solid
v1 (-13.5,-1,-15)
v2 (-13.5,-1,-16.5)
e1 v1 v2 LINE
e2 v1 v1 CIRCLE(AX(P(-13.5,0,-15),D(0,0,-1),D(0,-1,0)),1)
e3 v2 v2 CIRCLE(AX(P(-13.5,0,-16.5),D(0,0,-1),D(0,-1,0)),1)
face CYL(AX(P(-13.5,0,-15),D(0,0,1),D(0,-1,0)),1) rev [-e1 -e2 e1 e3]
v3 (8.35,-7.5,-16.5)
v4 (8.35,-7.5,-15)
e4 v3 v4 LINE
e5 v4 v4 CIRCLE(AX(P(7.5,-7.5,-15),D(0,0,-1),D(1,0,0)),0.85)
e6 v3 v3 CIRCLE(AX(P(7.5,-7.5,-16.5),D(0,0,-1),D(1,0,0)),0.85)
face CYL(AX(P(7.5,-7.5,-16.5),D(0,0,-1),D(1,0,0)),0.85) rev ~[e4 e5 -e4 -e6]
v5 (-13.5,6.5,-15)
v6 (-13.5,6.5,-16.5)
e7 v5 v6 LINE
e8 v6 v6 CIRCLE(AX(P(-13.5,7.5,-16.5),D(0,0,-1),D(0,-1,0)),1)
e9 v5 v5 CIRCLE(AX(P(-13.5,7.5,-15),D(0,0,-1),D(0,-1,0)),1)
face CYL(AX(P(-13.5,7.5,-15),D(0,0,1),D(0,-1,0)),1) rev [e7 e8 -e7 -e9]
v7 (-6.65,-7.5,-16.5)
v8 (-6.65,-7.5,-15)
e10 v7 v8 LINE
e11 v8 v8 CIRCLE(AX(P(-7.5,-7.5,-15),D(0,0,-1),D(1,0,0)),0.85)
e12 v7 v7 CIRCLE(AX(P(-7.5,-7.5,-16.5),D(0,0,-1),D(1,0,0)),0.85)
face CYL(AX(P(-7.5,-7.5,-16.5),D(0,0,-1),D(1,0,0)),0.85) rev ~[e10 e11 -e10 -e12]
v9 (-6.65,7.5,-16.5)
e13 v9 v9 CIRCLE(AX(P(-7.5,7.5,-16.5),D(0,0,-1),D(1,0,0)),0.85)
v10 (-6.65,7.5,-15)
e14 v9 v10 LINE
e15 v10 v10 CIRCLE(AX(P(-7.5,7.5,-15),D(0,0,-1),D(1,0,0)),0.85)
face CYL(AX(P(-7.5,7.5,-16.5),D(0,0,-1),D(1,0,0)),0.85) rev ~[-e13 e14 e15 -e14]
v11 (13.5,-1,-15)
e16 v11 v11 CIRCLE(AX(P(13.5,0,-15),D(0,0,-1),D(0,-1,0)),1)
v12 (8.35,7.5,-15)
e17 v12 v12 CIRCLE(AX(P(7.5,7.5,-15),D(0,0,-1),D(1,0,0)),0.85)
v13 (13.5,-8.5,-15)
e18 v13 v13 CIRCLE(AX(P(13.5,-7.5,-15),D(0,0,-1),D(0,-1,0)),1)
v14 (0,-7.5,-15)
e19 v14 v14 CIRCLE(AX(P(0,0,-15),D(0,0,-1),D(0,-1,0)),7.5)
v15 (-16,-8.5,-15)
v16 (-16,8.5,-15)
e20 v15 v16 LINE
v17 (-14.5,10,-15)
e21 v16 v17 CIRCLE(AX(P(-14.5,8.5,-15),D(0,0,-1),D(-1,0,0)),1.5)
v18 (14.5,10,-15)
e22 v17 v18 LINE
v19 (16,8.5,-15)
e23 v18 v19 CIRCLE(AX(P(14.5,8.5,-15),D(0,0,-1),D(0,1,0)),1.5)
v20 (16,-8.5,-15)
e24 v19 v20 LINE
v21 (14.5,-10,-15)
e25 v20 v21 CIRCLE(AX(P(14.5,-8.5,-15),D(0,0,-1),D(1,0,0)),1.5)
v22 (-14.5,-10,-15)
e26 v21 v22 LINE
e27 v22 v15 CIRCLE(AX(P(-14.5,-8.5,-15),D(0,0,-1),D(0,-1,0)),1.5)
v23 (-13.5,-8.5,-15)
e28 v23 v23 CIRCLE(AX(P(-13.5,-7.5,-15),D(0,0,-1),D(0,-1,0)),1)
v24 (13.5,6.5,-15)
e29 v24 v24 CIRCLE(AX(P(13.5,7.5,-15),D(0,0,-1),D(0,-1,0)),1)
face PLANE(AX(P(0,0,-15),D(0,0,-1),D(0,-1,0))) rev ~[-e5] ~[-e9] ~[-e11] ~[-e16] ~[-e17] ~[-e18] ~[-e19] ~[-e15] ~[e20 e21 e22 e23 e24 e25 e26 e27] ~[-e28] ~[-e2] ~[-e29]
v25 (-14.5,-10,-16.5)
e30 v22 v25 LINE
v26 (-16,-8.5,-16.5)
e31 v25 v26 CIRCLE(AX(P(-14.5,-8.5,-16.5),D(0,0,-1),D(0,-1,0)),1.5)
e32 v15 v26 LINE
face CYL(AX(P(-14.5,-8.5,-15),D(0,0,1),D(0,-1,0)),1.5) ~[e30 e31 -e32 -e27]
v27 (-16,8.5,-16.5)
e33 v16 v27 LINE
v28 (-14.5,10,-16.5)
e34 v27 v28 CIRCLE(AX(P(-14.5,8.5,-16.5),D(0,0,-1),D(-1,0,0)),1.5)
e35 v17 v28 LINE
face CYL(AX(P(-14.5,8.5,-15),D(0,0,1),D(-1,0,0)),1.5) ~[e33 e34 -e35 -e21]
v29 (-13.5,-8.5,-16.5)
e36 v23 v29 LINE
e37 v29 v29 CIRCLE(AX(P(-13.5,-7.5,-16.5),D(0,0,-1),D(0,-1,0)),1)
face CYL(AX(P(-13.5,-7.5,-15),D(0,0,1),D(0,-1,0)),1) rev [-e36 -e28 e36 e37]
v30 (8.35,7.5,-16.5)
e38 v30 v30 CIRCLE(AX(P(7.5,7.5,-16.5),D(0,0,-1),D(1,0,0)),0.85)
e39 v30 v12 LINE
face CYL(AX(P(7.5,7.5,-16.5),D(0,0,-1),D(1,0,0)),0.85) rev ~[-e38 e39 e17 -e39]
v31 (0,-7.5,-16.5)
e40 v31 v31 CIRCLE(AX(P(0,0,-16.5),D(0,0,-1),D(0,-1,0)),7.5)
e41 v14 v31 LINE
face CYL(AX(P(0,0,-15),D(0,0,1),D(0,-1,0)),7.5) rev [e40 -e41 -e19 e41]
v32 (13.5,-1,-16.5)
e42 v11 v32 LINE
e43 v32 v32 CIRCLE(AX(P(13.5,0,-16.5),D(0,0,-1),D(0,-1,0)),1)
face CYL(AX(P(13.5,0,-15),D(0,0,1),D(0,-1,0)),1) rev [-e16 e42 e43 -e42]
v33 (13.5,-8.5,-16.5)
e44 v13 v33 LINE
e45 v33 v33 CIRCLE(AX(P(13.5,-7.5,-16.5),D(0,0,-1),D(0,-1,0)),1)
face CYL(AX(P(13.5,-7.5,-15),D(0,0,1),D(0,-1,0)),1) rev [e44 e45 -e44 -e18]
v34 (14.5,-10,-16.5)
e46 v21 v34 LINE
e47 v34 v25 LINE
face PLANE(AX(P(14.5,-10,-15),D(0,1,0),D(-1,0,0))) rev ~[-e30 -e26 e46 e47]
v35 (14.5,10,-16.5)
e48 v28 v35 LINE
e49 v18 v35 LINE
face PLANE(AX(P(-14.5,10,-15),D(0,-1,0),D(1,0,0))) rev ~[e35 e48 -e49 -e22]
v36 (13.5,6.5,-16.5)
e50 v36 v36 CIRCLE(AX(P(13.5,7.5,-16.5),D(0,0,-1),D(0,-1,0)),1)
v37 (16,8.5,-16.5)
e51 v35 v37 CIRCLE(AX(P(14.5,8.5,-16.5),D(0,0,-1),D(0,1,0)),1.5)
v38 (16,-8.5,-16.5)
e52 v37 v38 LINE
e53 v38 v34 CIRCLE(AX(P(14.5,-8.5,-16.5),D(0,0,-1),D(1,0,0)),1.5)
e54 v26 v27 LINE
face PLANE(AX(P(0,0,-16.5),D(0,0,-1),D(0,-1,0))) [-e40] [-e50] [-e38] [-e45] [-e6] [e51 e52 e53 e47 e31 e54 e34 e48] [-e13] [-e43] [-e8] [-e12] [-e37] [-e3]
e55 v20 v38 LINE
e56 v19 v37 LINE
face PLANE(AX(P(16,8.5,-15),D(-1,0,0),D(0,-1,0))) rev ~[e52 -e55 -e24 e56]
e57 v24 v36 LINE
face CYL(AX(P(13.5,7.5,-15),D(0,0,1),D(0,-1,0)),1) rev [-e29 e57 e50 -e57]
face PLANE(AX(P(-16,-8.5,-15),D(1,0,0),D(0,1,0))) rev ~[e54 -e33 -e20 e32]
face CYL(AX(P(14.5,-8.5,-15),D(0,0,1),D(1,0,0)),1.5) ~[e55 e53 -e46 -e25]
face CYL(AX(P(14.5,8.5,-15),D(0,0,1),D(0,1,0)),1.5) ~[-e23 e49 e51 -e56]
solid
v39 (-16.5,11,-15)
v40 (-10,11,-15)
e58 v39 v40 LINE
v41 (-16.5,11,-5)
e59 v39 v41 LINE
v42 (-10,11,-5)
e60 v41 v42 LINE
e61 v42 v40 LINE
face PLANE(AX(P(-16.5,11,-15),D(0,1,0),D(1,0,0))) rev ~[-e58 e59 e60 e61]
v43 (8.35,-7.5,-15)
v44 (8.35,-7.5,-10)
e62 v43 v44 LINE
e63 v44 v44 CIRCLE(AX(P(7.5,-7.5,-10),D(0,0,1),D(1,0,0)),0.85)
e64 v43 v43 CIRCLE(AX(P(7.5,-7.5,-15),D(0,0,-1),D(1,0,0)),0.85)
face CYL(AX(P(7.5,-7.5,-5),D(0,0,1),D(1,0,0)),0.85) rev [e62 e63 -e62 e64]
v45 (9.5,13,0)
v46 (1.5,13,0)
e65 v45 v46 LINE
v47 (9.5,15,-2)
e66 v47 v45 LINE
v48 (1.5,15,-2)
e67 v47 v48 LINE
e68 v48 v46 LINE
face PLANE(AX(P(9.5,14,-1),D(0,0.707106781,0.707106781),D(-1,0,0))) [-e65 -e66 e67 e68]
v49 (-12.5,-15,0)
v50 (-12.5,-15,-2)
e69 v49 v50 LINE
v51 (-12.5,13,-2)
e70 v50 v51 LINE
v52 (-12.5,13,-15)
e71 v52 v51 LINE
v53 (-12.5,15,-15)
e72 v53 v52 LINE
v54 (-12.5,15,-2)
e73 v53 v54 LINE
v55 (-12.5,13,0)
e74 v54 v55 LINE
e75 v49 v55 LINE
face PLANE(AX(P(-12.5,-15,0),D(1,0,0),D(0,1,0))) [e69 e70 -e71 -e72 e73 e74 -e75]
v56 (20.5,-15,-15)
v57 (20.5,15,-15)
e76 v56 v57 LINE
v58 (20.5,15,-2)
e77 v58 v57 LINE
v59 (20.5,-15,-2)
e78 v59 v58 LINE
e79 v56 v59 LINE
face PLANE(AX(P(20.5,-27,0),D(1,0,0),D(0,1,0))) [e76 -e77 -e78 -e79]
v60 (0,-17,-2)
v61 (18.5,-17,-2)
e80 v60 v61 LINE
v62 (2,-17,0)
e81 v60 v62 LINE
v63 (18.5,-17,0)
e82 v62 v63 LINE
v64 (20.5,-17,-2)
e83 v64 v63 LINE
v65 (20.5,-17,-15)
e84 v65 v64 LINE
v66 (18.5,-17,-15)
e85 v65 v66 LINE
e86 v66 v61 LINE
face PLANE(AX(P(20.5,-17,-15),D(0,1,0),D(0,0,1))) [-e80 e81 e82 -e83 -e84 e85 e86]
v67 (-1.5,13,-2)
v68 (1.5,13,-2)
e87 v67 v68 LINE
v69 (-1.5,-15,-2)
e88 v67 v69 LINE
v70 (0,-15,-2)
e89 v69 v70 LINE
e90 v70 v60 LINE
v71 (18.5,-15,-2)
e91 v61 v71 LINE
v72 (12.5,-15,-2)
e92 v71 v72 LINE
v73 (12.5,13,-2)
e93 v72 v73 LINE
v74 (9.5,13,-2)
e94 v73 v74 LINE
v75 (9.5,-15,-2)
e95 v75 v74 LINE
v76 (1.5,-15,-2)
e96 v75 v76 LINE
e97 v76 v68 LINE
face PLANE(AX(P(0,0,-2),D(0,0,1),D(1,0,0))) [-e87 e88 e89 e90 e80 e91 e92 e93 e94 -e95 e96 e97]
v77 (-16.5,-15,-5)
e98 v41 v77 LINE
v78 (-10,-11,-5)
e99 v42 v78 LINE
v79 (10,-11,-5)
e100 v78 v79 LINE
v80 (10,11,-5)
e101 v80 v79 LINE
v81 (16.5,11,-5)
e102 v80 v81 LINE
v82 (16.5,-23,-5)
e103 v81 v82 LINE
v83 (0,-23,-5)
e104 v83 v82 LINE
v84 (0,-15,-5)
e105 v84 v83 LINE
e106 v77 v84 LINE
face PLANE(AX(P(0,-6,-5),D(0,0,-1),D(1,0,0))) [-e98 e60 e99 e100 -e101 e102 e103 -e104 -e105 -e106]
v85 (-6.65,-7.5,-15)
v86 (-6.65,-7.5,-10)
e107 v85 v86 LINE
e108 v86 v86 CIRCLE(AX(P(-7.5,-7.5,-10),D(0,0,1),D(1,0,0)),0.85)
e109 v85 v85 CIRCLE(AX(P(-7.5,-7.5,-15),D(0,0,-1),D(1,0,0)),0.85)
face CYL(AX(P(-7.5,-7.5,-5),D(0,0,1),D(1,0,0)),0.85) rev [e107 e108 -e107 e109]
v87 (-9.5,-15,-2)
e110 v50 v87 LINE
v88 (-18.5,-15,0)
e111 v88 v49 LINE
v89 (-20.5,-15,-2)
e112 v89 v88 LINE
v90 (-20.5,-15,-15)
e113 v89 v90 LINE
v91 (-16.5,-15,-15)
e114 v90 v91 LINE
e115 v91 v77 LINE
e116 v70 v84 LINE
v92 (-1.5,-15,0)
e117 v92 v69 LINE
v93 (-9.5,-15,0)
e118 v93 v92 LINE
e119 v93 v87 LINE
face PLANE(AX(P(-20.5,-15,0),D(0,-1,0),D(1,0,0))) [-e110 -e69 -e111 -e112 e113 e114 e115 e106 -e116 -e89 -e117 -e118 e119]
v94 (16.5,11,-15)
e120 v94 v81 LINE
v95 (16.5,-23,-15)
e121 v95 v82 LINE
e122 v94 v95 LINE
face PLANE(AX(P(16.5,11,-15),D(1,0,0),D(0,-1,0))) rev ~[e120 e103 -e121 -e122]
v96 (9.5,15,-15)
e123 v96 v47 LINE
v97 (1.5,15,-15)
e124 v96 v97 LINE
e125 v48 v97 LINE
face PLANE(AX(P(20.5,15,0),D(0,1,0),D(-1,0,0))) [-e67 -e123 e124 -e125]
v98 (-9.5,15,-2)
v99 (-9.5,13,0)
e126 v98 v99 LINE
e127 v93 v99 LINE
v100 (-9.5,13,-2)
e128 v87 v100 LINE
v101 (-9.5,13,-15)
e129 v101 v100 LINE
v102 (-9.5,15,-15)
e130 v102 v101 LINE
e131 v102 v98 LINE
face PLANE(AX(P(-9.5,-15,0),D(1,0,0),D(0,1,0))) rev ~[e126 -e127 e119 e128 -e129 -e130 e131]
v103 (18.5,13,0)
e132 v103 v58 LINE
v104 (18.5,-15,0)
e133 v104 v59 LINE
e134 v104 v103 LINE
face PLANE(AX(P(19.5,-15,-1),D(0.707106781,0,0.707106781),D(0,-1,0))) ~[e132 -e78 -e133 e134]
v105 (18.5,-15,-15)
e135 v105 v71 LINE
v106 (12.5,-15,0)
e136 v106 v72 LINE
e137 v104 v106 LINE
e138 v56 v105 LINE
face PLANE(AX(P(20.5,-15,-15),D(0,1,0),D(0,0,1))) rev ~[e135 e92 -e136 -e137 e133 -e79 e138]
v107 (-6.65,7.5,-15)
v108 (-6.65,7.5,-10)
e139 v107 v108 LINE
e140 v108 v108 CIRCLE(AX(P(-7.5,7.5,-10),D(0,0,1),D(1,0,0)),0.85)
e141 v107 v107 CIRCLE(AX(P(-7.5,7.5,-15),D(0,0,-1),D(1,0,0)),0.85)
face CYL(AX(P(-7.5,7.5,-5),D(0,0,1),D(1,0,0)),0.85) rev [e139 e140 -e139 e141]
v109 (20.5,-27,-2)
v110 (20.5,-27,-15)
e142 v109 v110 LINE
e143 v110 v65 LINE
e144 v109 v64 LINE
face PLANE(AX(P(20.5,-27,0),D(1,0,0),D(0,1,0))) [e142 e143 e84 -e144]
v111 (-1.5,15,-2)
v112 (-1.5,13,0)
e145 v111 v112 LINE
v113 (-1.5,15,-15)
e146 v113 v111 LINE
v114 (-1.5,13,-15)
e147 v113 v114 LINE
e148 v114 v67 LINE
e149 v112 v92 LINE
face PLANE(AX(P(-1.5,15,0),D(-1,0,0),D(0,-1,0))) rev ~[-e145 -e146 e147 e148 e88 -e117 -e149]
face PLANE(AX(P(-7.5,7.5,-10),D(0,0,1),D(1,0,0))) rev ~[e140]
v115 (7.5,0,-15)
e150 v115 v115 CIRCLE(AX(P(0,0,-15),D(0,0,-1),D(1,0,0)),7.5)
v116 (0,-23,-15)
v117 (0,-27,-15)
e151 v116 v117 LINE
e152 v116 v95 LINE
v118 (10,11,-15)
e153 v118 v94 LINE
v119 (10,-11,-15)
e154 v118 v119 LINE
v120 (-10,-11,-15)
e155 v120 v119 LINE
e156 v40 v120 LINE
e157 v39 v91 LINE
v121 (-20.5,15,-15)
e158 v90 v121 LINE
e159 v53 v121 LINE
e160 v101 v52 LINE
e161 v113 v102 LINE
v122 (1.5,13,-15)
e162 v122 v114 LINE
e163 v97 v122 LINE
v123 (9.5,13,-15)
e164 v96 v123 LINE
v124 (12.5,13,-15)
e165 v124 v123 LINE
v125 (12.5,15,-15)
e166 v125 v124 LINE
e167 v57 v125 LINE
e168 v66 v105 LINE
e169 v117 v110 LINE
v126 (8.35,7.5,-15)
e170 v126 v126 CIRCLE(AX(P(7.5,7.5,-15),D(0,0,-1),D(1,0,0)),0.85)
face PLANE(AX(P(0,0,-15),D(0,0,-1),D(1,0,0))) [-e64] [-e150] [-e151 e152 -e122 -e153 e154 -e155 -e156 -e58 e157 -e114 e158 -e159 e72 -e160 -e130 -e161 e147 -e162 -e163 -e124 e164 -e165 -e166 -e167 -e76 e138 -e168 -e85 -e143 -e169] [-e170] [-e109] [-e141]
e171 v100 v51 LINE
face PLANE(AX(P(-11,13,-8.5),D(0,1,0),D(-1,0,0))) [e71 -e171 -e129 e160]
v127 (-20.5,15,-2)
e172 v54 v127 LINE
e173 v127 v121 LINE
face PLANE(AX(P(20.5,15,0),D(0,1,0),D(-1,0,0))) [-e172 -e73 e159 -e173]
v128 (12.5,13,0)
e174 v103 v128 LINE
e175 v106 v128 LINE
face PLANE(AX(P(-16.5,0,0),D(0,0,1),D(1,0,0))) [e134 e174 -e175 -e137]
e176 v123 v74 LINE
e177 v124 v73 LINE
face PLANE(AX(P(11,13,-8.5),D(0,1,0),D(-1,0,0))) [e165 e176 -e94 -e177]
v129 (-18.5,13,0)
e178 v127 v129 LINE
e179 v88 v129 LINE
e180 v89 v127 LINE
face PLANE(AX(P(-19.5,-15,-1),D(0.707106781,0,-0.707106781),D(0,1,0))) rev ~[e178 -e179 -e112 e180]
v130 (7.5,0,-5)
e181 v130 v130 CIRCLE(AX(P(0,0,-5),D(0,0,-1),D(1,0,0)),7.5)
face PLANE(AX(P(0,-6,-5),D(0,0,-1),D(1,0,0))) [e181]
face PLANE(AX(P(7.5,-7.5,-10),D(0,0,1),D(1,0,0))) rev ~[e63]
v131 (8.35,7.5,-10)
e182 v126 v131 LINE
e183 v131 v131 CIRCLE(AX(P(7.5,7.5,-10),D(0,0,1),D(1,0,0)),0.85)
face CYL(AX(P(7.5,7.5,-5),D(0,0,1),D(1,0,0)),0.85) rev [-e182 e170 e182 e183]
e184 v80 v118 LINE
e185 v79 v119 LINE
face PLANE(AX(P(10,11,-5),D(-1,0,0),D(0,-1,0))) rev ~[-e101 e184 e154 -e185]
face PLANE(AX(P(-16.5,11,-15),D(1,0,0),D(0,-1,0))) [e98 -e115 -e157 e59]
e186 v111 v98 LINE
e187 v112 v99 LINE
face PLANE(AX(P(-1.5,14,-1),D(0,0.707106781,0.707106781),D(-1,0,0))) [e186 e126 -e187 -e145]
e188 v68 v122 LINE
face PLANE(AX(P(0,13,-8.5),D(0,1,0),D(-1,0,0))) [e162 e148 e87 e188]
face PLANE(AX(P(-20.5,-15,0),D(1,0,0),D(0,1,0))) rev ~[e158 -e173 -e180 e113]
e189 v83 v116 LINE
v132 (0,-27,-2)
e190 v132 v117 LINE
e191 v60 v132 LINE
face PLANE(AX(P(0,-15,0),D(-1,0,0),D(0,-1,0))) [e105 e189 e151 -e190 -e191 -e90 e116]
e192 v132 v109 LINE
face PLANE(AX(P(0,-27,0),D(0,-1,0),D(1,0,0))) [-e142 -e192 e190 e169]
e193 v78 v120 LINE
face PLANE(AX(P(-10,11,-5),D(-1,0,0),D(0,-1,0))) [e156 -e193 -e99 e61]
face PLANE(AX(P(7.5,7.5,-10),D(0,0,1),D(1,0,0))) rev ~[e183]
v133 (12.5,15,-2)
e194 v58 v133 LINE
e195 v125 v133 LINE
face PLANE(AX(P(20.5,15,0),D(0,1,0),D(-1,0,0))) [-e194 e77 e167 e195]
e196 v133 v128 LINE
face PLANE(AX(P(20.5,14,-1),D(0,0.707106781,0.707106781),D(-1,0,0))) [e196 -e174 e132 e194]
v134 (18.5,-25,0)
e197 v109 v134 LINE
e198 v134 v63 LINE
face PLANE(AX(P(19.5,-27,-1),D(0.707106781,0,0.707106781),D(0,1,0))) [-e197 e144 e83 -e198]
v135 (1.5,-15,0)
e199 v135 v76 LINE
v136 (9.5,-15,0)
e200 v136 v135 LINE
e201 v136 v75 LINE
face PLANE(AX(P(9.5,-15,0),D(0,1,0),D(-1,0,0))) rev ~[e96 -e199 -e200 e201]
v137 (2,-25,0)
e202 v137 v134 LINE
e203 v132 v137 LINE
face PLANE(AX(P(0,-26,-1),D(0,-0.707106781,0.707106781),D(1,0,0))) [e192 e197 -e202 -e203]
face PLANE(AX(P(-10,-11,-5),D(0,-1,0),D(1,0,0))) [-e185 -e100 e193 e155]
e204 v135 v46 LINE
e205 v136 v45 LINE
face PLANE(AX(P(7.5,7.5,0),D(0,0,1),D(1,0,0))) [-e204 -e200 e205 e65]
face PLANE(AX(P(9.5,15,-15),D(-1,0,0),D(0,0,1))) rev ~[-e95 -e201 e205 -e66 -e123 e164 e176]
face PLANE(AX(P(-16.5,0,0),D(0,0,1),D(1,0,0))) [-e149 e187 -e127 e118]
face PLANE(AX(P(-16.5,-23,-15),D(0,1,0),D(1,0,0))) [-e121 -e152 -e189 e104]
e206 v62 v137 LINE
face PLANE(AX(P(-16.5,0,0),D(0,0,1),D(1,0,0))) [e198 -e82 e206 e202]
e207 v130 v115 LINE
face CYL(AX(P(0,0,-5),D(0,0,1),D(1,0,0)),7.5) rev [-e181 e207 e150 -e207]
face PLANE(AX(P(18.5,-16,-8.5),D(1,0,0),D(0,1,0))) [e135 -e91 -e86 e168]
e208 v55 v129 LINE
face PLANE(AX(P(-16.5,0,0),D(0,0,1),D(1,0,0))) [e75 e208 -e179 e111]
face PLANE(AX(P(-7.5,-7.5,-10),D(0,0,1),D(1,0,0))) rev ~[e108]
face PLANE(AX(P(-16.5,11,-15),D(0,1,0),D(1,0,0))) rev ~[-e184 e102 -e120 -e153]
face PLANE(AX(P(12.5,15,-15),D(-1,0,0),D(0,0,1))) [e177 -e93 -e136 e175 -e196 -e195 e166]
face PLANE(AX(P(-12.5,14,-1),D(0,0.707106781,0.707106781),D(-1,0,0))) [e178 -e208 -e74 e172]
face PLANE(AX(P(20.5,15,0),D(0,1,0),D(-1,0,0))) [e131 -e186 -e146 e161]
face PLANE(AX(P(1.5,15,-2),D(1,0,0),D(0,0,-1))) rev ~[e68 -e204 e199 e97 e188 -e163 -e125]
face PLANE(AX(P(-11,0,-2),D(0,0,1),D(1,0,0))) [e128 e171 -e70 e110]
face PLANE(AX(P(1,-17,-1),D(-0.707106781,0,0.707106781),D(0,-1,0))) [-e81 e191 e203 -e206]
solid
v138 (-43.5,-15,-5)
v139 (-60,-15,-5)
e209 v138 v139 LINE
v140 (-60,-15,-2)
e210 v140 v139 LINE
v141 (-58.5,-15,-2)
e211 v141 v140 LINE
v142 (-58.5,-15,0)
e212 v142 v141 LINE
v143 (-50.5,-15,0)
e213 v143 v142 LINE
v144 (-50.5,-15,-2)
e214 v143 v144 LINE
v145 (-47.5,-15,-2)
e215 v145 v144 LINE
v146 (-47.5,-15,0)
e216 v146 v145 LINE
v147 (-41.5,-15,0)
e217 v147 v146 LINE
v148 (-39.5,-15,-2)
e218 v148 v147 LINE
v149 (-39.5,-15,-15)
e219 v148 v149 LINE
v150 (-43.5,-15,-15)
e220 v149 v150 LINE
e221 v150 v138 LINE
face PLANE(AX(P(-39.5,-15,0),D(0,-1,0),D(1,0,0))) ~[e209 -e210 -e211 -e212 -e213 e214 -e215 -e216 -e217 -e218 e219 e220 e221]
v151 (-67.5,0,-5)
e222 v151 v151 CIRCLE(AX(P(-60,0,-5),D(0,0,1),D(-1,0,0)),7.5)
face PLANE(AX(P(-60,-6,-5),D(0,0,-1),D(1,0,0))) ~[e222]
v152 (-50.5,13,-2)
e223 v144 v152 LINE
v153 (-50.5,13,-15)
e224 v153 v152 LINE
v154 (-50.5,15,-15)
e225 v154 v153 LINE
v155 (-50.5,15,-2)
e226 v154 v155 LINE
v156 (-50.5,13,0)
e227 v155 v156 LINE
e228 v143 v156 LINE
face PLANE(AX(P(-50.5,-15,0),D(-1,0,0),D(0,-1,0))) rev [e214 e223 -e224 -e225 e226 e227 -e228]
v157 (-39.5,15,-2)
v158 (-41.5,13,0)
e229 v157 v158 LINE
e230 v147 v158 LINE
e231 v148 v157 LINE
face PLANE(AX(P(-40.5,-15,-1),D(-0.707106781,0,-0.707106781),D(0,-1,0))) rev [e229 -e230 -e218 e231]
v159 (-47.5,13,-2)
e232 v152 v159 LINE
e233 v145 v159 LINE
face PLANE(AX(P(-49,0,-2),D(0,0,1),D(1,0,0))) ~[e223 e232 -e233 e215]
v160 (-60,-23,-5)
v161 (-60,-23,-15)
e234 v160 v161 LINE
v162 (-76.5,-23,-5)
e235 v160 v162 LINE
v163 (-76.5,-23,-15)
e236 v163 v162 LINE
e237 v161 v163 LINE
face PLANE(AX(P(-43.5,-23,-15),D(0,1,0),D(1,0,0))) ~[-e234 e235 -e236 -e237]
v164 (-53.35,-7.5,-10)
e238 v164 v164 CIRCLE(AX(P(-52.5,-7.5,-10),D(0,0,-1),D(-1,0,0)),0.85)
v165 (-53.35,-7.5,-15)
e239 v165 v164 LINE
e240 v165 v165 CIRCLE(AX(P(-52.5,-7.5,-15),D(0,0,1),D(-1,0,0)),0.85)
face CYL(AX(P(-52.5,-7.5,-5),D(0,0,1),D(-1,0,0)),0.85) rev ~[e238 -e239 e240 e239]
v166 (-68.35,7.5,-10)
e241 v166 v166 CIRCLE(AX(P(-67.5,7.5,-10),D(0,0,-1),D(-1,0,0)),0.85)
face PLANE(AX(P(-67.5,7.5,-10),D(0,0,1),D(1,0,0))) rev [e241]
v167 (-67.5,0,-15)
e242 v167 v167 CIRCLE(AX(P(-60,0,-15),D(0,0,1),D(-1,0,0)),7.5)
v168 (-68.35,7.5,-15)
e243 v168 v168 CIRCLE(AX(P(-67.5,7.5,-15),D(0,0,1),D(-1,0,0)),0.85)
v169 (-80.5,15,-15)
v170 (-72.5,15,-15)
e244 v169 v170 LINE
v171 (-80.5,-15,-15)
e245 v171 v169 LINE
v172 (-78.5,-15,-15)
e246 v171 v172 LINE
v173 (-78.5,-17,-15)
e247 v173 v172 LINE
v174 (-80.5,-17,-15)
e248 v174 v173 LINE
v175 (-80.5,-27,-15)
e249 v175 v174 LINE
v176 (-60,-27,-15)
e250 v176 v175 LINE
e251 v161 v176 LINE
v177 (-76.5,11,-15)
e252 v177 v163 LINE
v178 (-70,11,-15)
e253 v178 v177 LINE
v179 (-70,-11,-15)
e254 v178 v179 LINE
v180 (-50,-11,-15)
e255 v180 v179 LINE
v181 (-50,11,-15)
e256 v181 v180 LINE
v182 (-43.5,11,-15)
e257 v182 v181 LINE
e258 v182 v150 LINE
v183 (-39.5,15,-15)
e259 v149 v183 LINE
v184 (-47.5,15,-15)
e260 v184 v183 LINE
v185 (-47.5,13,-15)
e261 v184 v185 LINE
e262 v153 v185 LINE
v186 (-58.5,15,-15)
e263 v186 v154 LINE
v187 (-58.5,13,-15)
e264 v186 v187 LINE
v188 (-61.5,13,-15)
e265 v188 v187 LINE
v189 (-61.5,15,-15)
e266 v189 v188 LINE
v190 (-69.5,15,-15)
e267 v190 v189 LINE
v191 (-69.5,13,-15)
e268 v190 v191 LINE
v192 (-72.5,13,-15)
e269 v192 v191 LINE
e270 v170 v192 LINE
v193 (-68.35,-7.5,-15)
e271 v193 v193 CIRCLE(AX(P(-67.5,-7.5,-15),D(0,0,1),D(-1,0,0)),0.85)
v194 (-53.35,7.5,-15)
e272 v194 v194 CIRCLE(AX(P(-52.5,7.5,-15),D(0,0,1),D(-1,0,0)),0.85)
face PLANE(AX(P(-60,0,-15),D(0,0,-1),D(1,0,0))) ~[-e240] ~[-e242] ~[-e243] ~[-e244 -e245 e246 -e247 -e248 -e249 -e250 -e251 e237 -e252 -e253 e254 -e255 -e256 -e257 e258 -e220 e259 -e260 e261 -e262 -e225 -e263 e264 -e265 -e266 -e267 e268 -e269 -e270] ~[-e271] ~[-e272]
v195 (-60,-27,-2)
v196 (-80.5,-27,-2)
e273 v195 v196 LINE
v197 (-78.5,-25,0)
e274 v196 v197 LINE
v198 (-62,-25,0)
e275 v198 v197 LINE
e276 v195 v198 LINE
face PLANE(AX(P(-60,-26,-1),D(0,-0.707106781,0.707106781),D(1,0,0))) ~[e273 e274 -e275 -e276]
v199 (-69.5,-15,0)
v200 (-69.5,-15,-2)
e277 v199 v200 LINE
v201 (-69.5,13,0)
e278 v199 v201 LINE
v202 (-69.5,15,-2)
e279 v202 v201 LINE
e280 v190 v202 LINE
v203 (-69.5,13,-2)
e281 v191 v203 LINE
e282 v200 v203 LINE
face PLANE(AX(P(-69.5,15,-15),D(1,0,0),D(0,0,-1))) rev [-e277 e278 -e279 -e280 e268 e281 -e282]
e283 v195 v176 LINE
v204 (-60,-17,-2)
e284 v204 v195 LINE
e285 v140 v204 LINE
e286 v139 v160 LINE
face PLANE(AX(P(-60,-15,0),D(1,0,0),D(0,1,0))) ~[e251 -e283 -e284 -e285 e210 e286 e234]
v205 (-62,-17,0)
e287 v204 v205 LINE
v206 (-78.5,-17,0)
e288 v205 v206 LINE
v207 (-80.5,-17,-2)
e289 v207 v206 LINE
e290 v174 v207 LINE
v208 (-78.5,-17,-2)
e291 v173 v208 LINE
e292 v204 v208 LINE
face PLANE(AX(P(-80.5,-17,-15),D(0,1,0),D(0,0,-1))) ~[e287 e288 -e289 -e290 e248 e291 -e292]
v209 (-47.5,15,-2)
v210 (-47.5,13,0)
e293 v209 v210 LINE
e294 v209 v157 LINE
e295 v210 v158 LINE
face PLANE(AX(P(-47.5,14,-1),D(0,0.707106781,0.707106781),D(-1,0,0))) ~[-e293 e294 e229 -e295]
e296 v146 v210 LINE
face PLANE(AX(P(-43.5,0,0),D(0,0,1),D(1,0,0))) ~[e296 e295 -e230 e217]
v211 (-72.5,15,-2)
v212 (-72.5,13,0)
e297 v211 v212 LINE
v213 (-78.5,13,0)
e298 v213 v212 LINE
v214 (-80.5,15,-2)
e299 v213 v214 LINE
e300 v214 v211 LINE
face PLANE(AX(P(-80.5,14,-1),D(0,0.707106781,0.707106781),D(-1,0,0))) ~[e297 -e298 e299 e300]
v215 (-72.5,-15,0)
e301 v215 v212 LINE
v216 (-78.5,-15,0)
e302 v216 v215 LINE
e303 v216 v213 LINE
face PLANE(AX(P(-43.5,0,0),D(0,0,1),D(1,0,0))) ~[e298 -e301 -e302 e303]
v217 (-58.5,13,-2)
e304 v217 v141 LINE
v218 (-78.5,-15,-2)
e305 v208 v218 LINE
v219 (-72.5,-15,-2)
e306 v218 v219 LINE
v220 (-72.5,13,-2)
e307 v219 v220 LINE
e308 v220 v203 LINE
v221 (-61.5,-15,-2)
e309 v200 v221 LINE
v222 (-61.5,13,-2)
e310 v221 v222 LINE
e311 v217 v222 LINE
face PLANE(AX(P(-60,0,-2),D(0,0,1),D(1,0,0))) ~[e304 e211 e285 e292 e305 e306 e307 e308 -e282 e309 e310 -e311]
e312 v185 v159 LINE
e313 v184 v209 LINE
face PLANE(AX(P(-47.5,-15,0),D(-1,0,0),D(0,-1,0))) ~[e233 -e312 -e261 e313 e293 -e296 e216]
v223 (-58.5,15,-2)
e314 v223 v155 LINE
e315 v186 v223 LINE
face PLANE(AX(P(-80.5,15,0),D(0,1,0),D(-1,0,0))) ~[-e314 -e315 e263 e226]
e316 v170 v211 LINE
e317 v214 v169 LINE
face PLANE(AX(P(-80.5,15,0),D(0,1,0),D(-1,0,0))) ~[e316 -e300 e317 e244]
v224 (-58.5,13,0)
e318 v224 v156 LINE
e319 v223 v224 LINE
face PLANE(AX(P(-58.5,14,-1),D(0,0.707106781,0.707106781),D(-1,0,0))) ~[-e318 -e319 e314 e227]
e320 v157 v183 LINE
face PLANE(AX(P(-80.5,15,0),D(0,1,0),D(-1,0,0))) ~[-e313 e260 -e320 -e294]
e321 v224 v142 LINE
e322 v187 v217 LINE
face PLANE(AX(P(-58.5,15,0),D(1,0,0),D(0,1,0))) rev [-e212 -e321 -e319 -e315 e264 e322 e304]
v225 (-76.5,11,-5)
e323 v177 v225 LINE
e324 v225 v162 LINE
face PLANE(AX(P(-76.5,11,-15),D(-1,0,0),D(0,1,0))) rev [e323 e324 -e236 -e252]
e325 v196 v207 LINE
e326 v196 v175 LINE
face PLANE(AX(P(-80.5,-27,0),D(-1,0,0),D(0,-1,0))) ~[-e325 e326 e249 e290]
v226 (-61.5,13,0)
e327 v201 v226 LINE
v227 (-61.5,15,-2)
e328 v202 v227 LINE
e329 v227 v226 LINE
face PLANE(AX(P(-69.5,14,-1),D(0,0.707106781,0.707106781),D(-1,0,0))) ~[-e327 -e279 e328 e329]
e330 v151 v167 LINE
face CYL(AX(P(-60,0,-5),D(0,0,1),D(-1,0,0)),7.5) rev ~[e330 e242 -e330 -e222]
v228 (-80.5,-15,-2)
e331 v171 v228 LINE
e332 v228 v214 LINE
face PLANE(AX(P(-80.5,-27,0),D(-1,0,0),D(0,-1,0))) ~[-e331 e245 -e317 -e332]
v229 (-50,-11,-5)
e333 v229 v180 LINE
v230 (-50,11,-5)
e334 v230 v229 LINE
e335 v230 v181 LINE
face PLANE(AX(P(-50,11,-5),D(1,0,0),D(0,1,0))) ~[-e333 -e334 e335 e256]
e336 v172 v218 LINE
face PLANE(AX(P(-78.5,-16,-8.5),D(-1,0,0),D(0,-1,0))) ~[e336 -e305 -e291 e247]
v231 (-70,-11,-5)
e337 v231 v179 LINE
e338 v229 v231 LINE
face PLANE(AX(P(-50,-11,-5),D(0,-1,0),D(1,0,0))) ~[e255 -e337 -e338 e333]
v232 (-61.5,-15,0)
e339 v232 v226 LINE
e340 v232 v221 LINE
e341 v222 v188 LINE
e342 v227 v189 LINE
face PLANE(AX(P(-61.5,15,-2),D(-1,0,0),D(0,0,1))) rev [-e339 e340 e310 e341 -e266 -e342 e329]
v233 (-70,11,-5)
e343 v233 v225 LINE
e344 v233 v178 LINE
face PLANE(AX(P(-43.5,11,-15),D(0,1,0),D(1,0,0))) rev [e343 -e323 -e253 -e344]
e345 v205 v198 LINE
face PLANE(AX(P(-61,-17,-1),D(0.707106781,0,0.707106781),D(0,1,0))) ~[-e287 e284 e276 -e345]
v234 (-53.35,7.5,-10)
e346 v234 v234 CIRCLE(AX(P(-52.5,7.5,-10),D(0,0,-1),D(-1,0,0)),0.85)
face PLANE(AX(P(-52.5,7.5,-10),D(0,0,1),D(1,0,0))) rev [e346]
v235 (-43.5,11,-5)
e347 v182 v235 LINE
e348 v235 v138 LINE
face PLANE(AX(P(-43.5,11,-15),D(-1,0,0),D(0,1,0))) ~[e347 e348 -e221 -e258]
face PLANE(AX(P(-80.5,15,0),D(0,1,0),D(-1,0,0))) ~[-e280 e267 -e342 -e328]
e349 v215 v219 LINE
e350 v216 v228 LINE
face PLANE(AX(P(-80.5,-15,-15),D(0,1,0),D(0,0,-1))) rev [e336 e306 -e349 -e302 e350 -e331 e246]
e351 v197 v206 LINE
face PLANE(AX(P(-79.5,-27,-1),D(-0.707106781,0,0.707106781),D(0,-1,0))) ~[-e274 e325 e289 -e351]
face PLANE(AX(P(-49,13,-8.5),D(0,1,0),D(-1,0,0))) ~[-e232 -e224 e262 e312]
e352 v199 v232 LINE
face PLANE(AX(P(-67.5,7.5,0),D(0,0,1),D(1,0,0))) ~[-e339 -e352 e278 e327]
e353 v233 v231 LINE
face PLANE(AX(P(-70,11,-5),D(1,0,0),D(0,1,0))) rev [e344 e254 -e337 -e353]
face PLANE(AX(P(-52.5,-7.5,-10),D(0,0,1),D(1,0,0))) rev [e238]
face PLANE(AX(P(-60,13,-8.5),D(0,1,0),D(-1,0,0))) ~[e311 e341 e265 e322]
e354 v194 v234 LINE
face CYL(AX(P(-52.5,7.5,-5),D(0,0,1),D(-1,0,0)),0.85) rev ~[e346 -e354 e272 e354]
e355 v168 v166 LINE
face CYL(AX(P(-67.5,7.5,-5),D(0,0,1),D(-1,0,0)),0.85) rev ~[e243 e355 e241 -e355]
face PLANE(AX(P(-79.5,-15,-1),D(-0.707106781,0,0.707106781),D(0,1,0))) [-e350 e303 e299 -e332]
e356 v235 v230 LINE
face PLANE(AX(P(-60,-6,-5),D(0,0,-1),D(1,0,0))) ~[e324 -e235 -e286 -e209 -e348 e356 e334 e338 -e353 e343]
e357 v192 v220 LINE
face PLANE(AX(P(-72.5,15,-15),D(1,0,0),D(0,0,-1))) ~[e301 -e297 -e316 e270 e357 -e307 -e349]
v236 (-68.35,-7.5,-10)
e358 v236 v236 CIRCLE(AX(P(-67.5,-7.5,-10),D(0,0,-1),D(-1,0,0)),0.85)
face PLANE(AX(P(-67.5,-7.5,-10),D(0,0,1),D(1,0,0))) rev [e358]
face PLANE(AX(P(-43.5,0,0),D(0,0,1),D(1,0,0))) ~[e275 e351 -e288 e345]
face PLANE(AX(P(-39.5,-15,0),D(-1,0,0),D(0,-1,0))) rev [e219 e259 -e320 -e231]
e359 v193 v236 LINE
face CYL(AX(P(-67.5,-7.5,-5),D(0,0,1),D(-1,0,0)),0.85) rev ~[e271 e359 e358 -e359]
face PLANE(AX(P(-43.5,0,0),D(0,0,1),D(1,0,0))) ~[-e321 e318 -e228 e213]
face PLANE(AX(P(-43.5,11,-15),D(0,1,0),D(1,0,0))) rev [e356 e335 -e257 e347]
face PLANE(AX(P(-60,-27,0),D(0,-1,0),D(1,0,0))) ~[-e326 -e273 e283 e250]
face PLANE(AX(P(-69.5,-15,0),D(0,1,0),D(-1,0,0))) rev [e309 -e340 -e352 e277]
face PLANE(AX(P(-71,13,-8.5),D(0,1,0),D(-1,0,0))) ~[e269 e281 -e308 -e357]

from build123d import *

# Parameters (mm, degrees)
F0_W      = 8
F0_H      = 30
F0_W_2    = 3
F0_W_3    = 20.5
F0_H_2    = 10
F1_DEPTH  = 15
F2_DEPTH  = 2
F3_SIZE   = 2
F4_R      = 0.85
F5_DEPTH  = 15.001
F6_R      = 1
F6_R_2    = 7.5
F7_DEPTH  = 1.5
F8_W      = 3
F8_H      = 13
F9_DEPTH  = 2
F10_W     = 2
F10_H     = 13
F11_DEPTH = 2
F12_ANGLE = 90
F13_R     = 0.85
F14_DEPTH = 1.5
F15_W     = 33
F15_H     = 34
F16_DEPTH = 10
F17_W     = 20
F17_H     = 22
F17_R     = 0.85
F17_R_2   = 7.5
F18_DEPTH = 10
F19_R     = 0.85
F20_DEPTH = 10


with BuildPart() as f1:
    # F0 (on Top) → F1 (new body)
    with BuildSketch(Plane.XY):
        with Locations((-16.5, 0)):
            Rectangle(F0_W, F0_H)
        with Locations((-11, 0)):
            Rectangle(F0_W_2, F0_H)
        with Locations((-5.5, 0)):
            Rectangle(F0_W, F0_H)
        Polygon((1.5, 15), (-1.5, 15), (-1.5, -15), (0, -15), (1.5, -15), align=None)
        with Locations((5.5, 0)):
            Rectangle(F0_W, F0_H)
        with Locations((11, 0)):
            Rectangle(F0_W_2, F0_H)
        Polygon((9.5, -15), (1.5, -15), (0, -15), (0, -17), (20.5, -17), (20.5, -15), (12.5, -15), align=None)
        with Locations((16.5, 0)):
            Rectangle(F0_W, F0_H)
        with Locations((10.25, -22)):
            Rectangle(F0_W_3, F0_H_2)
    extrude(amount=-F1_DEPTH)

    # F0 (on Top) → F2 (cut)
    with BuildSketch(Plane.XY):
        with Locations((-11, 0)):
            Rectangle(F0_W_2, F0_H)
        Polygon((1.5, 15), (-1.5, 15), (-1.5, -15), (0, -15), (1.5, -15), align=None)
        with Locations((11, 0)):
            Rectangle(F0_W_2, F0_H)
        Polygon((9.5, -15), (1.5, -15), (0, -15), (0, -17), (20.5, -17), (20.5, -15), (12.5, -15), align=None)
    extrude(amount=-F2_DEPTH, mode=Mode.SUBTRACT)

    # F3
    f3_edges = [f1.edges().sort_by_distance(p)[0] for p in [
        (-16.5, 15, 0),
        (-20.5, 0, 0),
        (20.5, 0, 0),
        (16.5, 15, 0),
        (5.5, 15, 0),
        (-5.5, 15, 0),
        (10.25, -27, 0),
        (20.5, -22, 0),
        (0, -22, 0),
    ]]
    chamfer(f3_edges, length=F3_SIZE)

    # F4 (on face) → F5 (cut, through all)
    with BuildSketch(Plane.XY):
        with Locations((-7.5, 7.5)):
            Circle(F4_R)
        with Locations((7.5, 7.5)):
            Circle(F4_R)
        with Locations((7.5, -7.5)):
            Circle(F4_R)
        with Locations((-7.5, -7.5)):
            Circle(F4_R)
    extrude(amount=-F5_DEPTH, mode=Mode.SUBTRACT)

    # F8 (on face) → F9 (cut)
    with BuildSketch(Plane(origin=(0, 15, 0), x_dir=(-1, 0, 0), z_dir=(0, 1, 0))):
        with Locations((11, -8.5)):
            Rectangle(F8_W, F8_H)
        Polygon((1.5, -15), (1.5, -2), (0, -2), (-1.5, -2), (-1.5, -15), (0, -15), align=None)
        with Locations((-11, -8.5)):
            Rectangle(F8_W, F8_H)
    extrude(amount=-F9_DEPTH, mode=Mode.SUBTRACT)

    # F10 (on face) → F11 (cut)
    with BuildSketch(Plane.YZ.offset(20.5)):
        with Locations((-16, -8.5)):
            Rectangle(F10_W, F10_H)
    extrude(amount=-F11_DEPTH, mode=Mode.SUBTRACT)

    # F15 (on face) → F16 (cut)
    with BuildSketch(Plane(origin=(0, 0, -15), x_dir=(1, 0, 0), z_dir=(0, 0, -1))):
        with Locations((0, 6)):
            Rectangle(F15_W, F15_H)
    extrude(amount=-F16_DEPTH, mode=Mode.SUBTRACT)



with BuildPart() as f7:
    # F6 (on face) → F7 (new body)
    with BuildSketch(Plane(origin=(0, 0, -15), x_dir=(1, 0, 0), z_dir=(0, 0, -1))):
        with BuildLine():
            ThreePointArc((10, 14.5), (9.5606601718, 15.5606601718), (8.5, 16))
            Line((8.5, 16), (-8.5, 16))
            ThreePointArc((-8.5, 16), (-9.5606601718, 15.5606601718), (-10, 14.5))
            Line((-10, 14.5), (-10, -14.5))
            ThreePointArc((-10, -14.5), (-9.5606601718, -15.5606601718), (-8.5, -16))
            Line((-8.5, -16), (8.5, -16))
            ThreePointArc((8.5, -16), (9.5606601718, -15.5606601718), (10, -14.5))
            Line((10, -14.5), (10, 14.5))
        make_face()
        with Locations((-7.5, -13.5)):
            Circle(F6_R, mode=Mode.SUBTRACT)
        with Locations((0, -13.5)):
            Circle(F6_R, mode=Mode.SUBTRACT)
        with Locations((7.5, -13.5)):
            Circle(F6_R, mode=Mode.SUBTRACT)
        with Locations((-7.5, 13.5)):
            Circle(F6_R, mode=Mode.SUBTRACT)
        Circle(F6_R_2, mode=Mode.SUBTRACT)
        with Locations((0, 13.5)):
            Circle(F6_R, mode=Mode.SUBTRACT)
        with Locations((7.5, 13.5)):
            Circle(F6_R, mode=Mode.SUBTRACT)
    extrude(amount=F7_DEPTH)


with BuildPart() as f7_1:
    # F12: moved
    add(f7.part.rotate(Axis((0, 0, -15), (0, 0, -1)), F12_ANGLE))

    # F13 (on face) → F14 (cut, through all)
    with BuildSketch(Plane(origin=(0, 0, -16.5), x_dir=(1, 0, 0), z_dir=(0, 0, -1))):
        with Locations((-7.5, -7.5)):
            Circle(F13_R)
        with Locations((7.5, -7.5)):
            Circle(F13_R)
        with Locations((-7.5, 7.5)):
            Circle(F13_R)
        with Locations((7.5, 7.5)):
            Circle(F13_R)
    extrude(amount=-F14_DEPTH, mode=Mode.SUBTRACT)


with BuildPart() as f18:
    # F17 (on face) → F18 (new body, through all)
    with BuildSketch(Plane(origin=(0, 0, -5), x_dir=(1, 0, 0), z_dir=(0, 0, -1))):
        Rectangle(F17_W, F17_H)
        with Locations((-7.5, -7.5)):
            Circle(F17_R, mode=Mode.SUBTRACT)
        with Locations((7.5, -7.5)):
            Circle(F17_R, mode=Mode.SUBTRACT)
        with Locations((-7.5, 7.5)):
            Circle(F17_R, mode=Mode.SUBTRACT)
        Circle(F17_R_2, mode=Mode.SUBTRACT)
        with Locations((7.5, 7.5)):
            Circle(F17_R, mode=Mode.SUBTRACT)
    extrude(amount=F18_DEPTH)


with BuildPart() as f1_1:
    add(f1.part)

    add(f18.part)  # F20 merges F18
    # F19 (on face) → F20 (join)
    with BuildSketch(Plane.XY):
        with Locations((7.5, 7.5)):
            Circle(F19_R)
        with Locations((-7.5, 7.5)):
            Circle(F19_R)
        with Locations((-7.5, -7.5)):
            Circle(F19_R)
        with Locations((7.5, -7.5)):
            Circle(F19_R)
    extrude(amount=-F20_DEPTH)


with BuildPart() as f22_1:
    # F22: instance of F1
    add(f1_1.part.mirror(Plane.YZ.offset(-30)))


solid = Compound([f7_1.part, f1_1.part, f22_1.part])
